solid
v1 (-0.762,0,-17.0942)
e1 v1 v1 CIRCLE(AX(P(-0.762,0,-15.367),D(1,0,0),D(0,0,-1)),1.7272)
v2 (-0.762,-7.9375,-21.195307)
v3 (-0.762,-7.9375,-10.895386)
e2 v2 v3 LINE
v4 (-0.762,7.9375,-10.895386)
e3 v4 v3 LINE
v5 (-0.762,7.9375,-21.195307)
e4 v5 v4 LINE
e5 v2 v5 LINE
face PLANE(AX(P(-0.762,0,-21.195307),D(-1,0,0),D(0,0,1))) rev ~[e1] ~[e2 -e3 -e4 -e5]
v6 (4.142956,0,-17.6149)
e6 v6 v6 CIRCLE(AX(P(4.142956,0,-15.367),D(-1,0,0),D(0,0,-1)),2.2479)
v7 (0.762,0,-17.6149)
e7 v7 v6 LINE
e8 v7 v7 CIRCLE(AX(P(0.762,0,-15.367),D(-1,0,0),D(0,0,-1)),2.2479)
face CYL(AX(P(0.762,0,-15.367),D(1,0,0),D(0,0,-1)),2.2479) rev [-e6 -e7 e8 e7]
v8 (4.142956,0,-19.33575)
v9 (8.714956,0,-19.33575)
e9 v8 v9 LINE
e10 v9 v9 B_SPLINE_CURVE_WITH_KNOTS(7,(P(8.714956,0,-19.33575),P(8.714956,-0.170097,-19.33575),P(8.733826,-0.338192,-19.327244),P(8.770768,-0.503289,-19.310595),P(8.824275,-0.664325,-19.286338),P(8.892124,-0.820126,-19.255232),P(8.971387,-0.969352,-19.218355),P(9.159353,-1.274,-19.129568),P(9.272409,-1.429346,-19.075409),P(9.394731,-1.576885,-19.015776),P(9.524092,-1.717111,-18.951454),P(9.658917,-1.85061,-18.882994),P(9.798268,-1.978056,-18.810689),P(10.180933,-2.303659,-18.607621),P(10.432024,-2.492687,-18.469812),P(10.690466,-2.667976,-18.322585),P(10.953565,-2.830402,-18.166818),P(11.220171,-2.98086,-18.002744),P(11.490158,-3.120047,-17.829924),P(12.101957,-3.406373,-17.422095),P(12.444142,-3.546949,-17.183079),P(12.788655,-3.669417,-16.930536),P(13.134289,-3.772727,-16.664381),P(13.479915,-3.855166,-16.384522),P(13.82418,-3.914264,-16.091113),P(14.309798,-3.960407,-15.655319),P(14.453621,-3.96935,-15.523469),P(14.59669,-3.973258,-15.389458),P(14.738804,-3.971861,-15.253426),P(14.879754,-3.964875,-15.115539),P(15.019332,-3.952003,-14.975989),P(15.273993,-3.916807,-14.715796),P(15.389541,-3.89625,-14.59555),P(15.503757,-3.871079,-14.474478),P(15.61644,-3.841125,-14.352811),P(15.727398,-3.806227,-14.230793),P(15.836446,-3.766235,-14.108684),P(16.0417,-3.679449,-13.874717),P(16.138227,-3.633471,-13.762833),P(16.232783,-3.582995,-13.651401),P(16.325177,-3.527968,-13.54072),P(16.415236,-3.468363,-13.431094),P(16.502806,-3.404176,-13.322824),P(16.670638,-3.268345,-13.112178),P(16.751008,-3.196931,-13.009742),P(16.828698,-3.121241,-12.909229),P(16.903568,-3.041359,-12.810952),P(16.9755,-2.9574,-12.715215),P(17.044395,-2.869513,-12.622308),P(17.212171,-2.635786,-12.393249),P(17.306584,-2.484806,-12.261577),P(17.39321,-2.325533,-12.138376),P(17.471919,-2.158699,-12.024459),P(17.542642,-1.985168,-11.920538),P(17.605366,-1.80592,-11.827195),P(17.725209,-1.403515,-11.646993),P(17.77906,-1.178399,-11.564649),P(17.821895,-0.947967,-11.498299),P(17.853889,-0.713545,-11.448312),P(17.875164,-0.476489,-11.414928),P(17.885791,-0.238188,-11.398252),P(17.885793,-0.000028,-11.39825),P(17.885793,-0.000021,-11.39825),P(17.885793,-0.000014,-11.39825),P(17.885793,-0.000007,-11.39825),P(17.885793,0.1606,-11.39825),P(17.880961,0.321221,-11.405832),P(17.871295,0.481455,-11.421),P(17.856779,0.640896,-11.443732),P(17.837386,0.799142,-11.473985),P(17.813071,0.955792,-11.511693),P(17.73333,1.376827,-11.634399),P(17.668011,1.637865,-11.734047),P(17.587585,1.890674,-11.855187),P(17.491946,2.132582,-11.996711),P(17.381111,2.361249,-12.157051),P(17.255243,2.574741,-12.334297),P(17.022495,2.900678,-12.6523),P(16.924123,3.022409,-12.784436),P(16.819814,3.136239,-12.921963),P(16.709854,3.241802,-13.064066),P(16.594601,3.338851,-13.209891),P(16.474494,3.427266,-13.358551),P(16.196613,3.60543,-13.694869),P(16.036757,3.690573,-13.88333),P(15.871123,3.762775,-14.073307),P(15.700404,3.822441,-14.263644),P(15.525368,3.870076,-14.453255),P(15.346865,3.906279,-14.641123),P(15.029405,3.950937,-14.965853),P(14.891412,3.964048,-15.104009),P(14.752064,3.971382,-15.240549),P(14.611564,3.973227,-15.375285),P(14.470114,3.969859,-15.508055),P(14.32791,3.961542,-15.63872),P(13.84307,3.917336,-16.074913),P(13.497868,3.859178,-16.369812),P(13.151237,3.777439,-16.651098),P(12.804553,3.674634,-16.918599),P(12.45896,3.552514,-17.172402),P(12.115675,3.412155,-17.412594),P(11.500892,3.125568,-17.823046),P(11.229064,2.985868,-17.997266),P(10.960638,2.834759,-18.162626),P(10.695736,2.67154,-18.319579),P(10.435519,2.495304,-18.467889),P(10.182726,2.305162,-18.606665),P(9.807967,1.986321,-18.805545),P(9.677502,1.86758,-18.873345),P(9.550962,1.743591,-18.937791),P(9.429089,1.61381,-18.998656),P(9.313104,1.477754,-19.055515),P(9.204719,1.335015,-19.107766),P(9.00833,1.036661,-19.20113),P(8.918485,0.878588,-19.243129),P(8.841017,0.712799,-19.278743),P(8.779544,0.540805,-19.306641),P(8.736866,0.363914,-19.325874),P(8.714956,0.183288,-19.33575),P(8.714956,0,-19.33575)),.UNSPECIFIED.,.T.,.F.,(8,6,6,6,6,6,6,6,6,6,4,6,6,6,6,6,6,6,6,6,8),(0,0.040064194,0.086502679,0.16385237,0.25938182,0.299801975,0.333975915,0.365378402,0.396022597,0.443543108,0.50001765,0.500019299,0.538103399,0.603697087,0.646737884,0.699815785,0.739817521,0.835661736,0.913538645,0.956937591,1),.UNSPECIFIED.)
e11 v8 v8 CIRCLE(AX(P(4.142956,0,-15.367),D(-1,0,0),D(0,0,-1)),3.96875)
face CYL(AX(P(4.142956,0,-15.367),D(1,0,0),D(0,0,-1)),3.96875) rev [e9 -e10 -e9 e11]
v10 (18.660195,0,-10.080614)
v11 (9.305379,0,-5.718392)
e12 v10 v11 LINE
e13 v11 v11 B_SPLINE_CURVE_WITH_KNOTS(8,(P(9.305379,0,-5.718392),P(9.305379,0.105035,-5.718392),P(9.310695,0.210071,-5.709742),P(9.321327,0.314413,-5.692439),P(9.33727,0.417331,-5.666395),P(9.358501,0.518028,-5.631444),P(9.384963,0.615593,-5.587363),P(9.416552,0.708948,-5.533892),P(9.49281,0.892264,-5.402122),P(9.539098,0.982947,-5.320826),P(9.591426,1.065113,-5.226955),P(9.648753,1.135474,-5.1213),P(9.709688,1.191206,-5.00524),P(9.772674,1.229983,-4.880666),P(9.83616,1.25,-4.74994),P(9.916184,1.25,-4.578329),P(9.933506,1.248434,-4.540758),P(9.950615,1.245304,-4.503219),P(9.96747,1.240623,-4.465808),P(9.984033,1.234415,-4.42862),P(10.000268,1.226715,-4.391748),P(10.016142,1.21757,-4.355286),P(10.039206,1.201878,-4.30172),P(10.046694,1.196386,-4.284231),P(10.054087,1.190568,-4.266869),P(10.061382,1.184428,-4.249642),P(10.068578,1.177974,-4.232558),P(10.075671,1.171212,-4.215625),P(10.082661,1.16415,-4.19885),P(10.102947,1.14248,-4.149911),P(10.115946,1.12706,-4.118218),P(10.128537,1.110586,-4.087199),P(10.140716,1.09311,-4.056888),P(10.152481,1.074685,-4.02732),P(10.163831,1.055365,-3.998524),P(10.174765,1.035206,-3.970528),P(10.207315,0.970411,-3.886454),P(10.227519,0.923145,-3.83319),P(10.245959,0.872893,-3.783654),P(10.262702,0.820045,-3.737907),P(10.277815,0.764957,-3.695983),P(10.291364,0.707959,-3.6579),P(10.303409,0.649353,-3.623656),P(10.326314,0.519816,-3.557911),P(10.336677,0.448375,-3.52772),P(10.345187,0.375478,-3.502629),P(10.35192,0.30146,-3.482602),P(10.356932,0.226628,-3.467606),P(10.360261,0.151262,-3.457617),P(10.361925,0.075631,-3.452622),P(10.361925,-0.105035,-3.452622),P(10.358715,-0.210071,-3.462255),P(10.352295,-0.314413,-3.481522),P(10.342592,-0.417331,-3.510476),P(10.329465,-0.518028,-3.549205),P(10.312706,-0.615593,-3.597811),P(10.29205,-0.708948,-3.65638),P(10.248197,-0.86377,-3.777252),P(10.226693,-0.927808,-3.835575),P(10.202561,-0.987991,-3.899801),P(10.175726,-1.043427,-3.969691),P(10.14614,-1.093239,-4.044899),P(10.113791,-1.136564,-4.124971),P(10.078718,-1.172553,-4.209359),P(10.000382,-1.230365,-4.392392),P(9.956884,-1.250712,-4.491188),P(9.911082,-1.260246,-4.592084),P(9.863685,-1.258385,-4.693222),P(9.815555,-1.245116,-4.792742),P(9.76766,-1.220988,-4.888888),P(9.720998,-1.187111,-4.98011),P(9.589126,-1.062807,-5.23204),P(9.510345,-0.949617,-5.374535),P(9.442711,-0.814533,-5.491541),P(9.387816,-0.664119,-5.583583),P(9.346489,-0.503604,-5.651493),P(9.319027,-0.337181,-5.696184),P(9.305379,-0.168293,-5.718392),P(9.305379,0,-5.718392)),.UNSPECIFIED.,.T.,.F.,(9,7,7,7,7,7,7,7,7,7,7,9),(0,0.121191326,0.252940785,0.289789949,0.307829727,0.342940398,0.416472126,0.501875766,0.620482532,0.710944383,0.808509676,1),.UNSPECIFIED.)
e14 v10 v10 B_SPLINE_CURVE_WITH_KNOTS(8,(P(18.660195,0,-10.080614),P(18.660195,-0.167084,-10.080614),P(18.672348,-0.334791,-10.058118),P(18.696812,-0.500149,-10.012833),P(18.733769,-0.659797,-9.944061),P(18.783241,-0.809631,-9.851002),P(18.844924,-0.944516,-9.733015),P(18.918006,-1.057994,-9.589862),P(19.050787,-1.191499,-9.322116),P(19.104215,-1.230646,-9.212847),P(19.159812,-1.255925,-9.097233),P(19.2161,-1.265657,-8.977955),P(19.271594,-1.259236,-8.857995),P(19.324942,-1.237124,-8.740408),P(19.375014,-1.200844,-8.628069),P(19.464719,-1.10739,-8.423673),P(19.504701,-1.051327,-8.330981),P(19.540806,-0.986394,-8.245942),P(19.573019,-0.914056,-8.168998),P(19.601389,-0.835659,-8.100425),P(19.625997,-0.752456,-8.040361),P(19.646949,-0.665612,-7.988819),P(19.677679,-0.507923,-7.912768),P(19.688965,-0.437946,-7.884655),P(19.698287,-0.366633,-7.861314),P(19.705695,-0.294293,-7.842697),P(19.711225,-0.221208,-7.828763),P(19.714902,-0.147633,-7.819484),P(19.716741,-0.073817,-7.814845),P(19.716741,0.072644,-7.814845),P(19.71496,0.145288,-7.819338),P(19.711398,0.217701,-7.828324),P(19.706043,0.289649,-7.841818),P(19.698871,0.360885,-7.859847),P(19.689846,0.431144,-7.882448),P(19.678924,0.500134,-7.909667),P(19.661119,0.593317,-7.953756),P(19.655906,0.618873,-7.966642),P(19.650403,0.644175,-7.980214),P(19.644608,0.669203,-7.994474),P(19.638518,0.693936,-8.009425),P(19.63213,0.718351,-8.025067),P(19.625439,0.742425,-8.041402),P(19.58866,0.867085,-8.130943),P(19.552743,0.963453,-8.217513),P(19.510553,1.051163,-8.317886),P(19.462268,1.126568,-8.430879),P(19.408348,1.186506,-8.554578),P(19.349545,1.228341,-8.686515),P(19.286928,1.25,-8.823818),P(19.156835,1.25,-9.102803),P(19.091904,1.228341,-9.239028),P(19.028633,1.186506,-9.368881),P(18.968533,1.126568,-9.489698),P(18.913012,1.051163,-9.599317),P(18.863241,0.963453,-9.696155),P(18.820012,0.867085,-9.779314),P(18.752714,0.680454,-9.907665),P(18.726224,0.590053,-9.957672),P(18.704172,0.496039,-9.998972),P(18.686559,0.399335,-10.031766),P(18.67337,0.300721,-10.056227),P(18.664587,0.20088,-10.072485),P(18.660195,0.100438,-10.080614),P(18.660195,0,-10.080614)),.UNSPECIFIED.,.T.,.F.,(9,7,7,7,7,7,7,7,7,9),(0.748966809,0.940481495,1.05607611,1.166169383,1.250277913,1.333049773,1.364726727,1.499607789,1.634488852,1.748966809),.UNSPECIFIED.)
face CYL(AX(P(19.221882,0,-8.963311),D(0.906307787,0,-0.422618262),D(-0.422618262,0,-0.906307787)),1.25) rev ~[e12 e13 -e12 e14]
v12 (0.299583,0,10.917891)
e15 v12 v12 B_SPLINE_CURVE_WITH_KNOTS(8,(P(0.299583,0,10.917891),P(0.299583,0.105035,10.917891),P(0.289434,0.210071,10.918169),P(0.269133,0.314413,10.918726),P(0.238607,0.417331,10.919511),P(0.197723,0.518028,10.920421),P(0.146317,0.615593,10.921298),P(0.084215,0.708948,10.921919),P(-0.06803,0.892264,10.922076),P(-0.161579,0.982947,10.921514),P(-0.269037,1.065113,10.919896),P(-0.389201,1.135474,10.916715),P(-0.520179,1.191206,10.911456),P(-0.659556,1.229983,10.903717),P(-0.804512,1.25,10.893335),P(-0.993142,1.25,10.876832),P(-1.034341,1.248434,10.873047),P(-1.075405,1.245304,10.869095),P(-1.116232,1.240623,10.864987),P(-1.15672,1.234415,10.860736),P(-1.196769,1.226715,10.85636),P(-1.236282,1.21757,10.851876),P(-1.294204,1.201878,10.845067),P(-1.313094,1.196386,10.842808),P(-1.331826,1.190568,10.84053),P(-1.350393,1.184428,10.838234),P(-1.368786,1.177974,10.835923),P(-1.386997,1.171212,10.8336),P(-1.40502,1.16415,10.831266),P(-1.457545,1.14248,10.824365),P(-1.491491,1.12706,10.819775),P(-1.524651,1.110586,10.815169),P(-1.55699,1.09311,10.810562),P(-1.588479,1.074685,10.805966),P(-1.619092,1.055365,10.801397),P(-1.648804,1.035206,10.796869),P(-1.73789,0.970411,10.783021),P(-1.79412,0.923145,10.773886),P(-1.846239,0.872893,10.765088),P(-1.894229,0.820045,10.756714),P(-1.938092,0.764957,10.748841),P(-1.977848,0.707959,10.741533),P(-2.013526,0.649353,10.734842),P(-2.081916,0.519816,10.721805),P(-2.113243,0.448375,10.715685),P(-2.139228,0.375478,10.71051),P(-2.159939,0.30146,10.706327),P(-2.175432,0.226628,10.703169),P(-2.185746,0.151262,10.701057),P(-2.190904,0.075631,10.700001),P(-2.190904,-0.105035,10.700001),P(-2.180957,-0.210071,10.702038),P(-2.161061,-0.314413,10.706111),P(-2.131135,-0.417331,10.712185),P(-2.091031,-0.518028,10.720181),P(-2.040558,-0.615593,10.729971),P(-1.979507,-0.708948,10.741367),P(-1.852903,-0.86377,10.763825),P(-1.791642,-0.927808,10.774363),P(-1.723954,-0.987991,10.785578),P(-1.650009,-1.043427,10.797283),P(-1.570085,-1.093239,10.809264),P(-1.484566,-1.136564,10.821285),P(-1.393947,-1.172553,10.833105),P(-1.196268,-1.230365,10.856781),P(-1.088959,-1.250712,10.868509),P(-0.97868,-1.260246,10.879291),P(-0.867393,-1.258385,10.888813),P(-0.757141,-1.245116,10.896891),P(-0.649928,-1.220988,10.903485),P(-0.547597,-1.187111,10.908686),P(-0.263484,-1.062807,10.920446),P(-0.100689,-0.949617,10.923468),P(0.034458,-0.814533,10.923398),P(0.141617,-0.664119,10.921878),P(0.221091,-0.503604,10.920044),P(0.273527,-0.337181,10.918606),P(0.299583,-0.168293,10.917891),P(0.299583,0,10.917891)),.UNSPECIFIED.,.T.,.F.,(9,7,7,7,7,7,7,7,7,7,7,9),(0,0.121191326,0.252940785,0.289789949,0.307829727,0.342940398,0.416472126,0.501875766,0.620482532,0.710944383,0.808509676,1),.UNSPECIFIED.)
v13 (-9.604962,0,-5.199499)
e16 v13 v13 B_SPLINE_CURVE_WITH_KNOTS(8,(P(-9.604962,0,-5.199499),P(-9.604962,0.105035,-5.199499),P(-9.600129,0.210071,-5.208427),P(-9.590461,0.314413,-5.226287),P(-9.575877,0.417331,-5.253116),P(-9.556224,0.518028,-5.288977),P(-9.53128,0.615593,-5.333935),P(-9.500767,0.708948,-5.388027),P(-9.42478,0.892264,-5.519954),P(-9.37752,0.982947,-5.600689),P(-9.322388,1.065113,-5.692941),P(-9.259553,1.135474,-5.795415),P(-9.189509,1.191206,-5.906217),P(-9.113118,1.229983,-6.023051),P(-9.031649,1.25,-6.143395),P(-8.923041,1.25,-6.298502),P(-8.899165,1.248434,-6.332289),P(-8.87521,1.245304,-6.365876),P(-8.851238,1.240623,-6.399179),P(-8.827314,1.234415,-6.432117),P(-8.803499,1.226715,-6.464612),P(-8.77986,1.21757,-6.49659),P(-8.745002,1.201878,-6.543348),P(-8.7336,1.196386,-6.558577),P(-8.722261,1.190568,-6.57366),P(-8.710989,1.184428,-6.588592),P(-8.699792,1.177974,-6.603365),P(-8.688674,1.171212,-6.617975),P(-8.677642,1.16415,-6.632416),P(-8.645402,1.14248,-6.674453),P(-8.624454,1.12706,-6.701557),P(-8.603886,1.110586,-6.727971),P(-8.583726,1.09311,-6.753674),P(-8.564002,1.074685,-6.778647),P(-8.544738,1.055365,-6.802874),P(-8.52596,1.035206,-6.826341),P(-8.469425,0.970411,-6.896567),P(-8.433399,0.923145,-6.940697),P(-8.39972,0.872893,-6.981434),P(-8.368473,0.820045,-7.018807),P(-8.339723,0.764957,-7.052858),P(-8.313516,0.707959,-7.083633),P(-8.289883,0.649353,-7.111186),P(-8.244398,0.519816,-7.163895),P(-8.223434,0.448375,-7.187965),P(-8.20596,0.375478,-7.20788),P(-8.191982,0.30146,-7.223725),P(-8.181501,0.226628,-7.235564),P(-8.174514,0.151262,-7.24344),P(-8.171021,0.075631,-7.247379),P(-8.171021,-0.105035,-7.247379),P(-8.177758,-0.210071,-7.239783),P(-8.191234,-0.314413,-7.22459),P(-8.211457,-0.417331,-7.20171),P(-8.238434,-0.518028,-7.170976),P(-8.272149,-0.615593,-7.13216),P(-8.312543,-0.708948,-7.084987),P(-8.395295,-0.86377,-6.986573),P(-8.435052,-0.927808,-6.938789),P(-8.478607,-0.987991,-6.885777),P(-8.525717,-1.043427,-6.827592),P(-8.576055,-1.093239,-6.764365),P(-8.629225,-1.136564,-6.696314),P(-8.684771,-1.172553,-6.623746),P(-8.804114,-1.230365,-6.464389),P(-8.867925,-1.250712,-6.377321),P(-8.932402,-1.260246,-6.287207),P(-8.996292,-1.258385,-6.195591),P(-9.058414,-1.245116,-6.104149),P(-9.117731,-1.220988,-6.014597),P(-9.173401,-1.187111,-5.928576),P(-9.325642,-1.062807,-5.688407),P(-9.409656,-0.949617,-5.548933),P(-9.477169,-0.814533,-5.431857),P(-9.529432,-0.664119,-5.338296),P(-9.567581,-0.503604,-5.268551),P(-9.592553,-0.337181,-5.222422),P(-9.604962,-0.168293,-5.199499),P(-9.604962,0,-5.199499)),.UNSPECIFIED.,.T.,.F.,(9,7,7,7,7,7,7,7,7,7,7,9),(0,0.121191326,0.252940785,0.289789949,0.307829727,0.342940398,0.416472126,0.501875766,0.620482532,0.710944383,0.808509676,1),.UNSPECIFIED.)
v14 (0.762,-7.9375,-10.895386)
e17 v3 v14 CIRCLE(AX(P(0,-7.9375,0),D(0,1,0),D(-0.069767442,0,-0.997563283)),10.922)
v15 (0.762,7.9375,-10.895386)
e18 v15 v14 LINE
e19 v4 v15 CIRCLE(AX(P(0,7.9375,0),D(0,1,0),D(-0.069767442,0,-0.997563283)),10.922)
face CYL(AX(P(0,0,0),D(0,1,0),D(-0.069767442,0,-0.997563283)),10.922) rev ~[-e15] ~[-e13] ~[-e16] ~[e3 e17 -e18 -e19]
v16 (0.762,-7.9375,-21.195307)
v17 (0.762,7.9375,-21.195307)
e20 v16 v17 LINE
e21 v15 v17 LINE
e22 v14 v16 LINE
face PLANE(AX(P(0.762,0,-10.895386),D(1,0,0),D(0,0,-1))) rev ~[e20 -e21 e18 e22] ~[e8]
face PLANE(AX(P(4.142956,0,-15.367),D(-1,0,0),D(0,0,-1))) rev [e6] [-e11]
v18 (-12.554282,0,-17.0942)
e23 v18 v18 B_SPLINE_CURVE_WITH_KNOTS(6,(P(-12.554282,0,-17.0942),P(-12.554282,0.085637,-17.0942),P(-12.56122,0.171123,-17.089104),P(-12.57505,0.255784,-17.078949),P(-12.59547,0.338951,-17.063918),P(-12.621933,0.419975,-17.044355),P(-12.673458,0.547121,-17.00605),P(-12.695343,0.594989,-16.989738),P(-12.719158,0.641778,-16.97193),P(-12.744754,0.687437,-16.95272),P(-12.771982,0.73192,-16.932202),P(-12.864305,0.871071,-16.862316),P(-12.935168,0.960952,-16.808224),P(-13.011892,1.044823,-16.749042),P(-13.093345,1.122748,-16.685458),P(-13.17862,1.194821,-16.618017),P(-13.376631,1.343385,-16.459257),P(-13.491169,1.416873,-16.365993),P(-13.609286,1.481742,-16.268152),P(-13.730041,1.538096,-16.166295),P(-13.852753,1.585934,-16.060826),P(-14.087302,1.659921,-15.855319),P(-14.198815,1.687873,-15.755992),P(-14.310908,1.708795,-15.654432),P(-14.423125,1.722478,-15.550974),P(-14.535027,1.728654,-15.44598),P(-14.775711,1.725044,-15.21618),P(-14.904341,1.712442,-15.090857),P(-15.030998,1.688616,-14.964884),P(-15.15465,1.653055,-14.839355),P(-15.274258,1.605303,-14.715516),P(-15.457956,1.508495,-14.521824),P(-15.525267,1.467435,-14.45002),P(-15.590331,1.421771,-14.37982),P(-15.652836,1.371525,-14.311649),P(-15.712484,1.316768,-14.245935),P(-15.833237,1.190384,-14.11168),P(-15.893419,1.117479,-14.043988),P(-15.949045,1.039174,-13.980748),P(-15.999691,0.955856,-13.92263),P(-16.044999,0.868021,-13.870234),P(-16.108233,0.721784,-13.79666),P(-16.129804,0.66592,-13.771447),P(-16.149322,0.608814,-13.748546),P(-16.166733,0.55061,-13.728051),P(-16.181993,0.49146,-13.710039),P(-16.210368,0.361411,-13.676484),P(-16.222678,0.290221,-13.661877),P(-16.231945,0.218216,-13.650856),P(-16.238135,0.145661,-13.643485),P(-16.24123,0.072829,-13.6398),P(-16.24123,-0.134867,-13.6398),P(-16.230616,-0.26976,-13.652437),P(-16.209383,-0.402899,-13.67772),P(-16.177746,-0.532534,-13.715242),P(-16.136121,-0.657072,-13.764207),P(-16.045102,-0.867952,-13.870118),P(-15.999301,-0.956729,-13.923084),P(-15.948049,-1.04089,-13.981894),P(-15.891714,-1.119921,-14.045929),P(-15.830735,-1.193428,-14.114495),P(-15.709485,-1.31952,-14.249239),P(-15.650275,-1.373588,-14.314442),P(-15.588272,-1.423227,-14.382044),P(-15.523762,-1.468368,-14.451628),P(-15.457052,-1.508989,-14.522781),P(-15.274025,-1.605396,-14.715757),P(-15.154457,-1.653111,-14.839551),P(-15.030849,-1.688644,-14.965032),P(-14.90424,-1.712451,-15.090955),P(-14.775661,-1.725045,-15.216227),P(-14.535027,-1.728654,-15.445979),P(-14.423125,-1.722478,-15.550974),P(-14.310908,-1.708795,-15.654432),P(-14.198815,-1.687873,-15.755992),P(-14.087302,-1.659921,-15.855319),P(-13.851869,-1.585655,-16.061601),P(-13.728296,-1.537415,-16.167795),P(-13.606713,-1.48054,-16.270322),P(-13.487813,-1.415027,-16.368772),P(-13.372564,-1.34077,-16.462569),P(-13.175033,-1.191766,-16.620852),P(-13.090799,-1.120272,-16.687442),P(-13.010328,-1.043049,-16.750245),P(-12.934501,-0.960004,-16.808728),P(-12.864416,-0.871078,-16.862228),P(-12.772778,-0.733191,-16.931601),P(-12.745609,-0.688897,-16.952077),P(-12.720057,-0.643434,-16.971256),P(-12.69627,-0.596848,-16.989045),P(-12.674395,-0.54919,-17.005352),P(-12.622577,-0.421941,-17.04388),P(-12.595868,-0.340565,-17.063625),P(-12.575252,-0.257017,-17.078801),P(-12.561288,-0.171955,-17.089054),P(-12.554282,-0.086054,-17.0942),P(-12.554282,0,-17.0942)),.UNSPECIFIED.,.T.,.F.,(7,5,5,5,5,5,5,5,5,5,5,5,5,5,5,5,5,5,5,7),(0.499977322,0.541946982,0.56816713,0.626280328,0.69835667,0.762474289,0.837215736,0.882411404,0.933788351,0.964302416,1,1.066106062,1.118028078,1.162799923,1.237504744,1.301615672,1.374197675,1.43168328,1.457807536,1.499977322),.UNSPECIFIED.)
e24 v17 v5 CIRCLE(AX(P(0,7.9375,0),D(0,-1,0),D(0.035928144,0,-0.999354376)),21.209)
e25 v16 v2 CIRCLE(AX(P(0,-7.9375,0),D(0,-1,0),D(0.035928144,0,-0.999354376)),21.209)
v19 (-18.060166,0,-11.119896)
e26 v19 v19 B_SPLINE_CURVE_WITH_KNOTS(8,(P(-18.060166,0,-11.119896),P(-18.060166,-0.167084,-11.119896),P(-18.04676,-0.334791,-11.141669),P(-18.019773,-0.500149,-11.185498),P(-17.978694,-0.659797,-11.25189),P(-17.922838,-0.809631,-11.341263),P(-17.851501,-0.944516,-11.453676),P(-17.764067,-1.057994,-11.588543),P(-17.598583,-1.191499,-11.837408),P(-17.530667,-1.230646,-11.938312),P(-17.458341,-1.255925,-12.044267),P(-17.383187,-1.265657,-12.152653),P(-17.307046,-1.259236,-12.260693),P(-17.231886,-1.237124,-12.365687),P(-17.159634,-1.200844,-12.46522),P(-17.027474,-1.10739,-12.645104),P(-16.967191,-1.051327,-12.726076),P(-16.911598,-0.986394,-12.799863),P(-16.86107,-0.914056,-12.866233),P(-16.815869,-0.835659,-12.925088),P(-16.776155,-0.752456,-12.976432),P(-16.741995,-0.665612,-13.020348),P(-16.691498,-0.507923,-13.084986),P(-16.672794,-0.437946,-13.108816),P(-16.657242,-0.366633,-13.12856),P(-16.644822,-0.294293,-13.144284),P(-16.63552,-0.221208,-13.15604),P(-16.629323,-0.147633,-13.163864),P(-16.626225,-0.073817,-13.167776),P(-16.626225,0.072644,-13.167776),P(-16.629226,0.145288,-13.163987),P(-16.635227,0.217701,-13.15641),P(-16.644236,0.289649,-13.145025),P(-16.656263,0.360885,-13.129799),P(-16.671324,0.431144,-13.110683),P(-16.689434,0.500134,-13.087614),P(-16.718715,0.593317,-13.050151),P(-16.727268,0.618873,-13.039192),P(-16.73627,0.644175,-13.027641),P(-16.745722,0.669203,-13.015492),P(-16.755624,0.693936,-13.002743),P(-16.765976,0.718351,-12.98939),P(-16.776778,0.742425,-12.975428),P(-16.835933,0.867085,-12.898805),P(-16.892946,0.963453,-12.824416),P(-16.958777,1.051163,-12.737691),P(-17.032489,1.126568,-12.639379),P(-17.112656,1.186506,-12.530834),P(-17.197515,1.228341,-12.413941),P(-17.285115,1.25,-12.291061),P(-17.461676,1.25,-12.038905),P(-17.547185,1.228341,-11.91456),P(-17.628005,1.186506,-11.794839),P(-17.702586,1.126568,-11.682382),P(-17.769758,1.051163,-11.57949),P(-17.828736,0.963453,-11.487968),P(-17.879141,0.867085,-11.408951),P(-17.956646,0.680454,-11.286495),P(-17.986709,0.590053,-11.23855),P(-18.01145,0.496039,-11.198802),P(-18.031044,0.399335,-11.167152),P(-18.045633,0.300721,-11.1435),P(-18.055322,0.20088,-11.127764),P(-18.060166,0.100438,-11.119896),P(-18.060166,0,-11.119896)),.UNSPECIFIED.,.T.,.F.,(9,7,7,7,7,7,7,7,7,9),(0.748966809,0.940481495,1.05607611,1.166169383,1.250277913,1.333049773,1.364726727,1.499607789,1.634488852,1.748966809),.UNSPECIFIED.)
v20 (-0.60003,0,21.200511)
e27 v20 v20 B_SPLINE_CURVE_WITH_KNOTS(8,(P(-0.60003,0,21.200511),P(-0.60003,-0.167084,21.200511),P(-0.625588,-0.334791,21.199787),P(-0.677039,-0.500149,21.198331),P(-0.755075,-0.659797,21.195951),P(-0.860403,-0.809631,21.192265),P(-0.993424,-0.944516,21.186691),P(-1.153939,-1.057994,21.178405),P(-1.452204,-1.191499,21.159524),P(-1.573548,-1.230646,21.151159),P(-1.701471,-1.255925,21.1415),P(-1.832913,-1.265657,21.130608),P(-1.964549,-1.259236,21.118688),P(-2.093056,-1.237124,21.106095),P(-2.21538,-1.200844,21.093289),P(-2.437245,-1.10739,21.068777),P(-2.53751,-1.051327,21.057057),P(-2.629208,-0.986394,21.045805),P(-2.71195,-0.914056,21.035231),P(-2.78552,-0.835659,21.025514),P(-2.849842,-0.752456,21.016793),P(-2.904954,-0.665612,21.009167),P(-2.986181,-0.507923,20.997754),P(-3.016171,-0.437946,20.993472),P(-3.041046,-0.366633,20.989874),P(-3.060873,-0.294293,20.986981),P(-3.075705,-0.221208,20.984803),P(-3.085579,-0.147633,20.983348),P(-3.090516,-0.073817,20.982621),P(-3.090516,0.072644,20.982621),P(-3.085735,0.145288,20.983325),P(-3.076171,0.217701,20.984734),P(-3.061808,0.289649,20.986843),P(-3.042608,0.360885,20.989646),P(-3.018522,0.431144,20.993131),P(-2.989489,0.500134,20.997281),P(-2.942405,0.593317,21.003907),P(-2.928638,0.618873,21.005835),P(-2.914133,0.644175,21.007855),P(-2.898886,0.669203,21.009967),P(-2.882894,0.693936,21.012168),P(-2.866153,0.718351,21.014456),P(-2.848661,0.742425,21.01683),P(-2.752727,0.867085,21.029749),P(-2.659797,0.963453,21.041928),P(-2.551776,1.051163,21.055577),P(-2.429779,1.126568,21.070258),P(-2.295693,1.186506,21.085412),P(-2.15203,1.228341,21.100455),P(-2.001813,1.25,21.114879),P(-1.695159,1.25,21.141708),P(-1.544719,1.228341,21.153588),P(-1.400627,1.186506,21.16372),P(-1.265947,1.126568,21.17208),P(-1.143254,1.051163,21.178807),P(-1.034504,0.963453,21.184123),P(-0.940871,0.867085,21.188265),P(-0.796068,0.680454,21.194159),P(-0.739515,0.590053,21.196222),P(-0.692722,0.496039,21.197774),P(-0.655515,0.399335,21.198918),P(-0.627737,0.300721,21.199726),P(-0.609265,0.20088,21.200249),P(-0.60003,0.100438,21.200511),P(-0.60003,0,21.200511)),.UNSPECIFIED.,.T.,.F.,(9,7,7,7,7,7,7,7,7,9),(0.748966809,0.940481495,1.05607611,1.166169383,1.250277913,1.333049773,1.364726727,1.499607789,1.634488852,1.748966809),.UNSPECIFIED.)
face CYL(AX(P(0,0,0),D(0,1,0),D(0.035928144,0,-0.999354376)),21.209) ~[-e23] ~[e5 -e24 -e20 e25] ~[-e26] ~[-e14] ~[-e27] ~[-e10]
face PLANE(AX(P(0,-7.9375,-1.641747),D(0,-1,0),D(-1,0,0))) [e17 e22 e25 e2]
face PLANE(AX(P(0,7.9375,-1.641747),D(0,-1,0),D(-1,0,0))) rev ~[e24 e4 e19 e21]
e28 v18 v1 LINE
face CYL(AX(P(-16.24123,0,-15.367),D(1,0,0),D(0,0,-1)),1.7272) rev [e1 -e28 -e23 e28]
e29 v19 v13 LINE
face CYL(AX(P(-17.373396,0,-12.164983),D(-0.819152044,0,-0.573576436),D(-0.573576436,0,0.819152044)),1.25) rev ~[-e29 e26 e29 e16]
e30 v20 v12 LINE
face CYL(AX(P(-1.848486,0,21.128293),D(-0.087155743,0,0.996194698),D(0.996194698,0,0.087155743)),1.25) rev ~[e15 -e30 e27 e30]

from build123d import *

# Parameters (mm, degrees)
BOSS_EXTRUDE1_DEPTH        = 7.9375
M3X0_5_TAPPED_HOLE1_REACH  = 50.846
M3X0_5_TAPPED_HOLE1_BORE_R = 1.25
CIRPATTERN1_COUNT          = 3


with BuildPart() as part:
    # Sketch1 → Boss-Extrude1 (new, symmetric)
    with BuildSketch(Plane(origin=(0, 0, 0), x_dir=(1, 0, 0), z_dir=(0, 1, 0))):
        with BuildLine():
            Line((-0.762, 21.195306957), (-0.762, 10.895386179))
            ThreePointArc((-0.762, 10.895386179), (0, -10.922), (0.762, 10.895386179))
            Line((0.762, 10.895386179), (0.762, 21.195306957))
            ThreePointArc((0.762, 21.195306957), (0, -21.209), (-0.762, 21.195306957))
        make_face()
    extrude(amount=BOSS_EXTRUDE1_DEPTH, both=True)

    # Sketch2 → Cut-Revolve1 (revolve, cut)
    with BuildSketch(Plane(origin=(0, 0, 0), x_dir=(1, 0, 0), z_dir=(0, 1, 0)), mode=Mode.PRIVATE) as cut_revolve1_sk:
        Polygon((-16.24122954, 13.6398), (0.762, 13.6398), (0.762, 13.1191), (4.142955705, 13.1191), (4.142955705, 11.39825), (17.885792628, 11.39825), (17.885792628, 15.367), (-16.24122954, 15.367), align=None)
    revolve(cut_revolve1_sk.sketch.rotate(Axis((-16.24122954, 0, -15.367), (-1, 0, 0)), 180), axis=Axis((-16.24122954, 0, -15.367), (-1, 0, 0)), mode=Mode.SUBTRACT)

    # M3x0.5 Tapped Hole1 bore (on position points) → M3x0.5 Tapped Hole1 (cut, up to next)
    with BuildSketch(Plane(origin=(-1.848486148, 0, 21.128293352), x_dir=(0.996194698092, 0, 0.087155742748), z_dir=(-0.087155742748, 0, 0.996194698092)), mode=Mode.PRIVATE) as m3x0_5_tapped_hole1_sk1:
        Circle(M3X0_5_TAPPED_HOLE1_BORE_R)
    m3x0_5_tapped_hole1_tool1 = extrude(m3x0_5_tapped_hole1_sk1.sketch, amount=-M3X0_5_TAPPED_HOLE1_REACH, mode=Mode.PRIVATE) & part.part
    m3x0_5_tapped_hole1 = m3x0_5_tapped_hole1_tool1.solids().sort_by_distance((-1.848486, 0, 21.128293))[0]
    add(m3x0_5_tapped_hole1, mode=Mode.SUBTRACT)

    # CirPattern1: M3x0.5 Tapped Hole1 ×3 about axis
    cirpattern1_axis = Axis((0, 7.9375, 0), (0, -1, 0))
    for i in range(1, CIRPATTERN1_COUNT):
        add(m3x0_5_tapped_hole1.rotate(cirpattern1_axis, i * 360 / CIRPATTERN1_COUNT), mode=Mode.SUBTRACT)


solid = part.part
